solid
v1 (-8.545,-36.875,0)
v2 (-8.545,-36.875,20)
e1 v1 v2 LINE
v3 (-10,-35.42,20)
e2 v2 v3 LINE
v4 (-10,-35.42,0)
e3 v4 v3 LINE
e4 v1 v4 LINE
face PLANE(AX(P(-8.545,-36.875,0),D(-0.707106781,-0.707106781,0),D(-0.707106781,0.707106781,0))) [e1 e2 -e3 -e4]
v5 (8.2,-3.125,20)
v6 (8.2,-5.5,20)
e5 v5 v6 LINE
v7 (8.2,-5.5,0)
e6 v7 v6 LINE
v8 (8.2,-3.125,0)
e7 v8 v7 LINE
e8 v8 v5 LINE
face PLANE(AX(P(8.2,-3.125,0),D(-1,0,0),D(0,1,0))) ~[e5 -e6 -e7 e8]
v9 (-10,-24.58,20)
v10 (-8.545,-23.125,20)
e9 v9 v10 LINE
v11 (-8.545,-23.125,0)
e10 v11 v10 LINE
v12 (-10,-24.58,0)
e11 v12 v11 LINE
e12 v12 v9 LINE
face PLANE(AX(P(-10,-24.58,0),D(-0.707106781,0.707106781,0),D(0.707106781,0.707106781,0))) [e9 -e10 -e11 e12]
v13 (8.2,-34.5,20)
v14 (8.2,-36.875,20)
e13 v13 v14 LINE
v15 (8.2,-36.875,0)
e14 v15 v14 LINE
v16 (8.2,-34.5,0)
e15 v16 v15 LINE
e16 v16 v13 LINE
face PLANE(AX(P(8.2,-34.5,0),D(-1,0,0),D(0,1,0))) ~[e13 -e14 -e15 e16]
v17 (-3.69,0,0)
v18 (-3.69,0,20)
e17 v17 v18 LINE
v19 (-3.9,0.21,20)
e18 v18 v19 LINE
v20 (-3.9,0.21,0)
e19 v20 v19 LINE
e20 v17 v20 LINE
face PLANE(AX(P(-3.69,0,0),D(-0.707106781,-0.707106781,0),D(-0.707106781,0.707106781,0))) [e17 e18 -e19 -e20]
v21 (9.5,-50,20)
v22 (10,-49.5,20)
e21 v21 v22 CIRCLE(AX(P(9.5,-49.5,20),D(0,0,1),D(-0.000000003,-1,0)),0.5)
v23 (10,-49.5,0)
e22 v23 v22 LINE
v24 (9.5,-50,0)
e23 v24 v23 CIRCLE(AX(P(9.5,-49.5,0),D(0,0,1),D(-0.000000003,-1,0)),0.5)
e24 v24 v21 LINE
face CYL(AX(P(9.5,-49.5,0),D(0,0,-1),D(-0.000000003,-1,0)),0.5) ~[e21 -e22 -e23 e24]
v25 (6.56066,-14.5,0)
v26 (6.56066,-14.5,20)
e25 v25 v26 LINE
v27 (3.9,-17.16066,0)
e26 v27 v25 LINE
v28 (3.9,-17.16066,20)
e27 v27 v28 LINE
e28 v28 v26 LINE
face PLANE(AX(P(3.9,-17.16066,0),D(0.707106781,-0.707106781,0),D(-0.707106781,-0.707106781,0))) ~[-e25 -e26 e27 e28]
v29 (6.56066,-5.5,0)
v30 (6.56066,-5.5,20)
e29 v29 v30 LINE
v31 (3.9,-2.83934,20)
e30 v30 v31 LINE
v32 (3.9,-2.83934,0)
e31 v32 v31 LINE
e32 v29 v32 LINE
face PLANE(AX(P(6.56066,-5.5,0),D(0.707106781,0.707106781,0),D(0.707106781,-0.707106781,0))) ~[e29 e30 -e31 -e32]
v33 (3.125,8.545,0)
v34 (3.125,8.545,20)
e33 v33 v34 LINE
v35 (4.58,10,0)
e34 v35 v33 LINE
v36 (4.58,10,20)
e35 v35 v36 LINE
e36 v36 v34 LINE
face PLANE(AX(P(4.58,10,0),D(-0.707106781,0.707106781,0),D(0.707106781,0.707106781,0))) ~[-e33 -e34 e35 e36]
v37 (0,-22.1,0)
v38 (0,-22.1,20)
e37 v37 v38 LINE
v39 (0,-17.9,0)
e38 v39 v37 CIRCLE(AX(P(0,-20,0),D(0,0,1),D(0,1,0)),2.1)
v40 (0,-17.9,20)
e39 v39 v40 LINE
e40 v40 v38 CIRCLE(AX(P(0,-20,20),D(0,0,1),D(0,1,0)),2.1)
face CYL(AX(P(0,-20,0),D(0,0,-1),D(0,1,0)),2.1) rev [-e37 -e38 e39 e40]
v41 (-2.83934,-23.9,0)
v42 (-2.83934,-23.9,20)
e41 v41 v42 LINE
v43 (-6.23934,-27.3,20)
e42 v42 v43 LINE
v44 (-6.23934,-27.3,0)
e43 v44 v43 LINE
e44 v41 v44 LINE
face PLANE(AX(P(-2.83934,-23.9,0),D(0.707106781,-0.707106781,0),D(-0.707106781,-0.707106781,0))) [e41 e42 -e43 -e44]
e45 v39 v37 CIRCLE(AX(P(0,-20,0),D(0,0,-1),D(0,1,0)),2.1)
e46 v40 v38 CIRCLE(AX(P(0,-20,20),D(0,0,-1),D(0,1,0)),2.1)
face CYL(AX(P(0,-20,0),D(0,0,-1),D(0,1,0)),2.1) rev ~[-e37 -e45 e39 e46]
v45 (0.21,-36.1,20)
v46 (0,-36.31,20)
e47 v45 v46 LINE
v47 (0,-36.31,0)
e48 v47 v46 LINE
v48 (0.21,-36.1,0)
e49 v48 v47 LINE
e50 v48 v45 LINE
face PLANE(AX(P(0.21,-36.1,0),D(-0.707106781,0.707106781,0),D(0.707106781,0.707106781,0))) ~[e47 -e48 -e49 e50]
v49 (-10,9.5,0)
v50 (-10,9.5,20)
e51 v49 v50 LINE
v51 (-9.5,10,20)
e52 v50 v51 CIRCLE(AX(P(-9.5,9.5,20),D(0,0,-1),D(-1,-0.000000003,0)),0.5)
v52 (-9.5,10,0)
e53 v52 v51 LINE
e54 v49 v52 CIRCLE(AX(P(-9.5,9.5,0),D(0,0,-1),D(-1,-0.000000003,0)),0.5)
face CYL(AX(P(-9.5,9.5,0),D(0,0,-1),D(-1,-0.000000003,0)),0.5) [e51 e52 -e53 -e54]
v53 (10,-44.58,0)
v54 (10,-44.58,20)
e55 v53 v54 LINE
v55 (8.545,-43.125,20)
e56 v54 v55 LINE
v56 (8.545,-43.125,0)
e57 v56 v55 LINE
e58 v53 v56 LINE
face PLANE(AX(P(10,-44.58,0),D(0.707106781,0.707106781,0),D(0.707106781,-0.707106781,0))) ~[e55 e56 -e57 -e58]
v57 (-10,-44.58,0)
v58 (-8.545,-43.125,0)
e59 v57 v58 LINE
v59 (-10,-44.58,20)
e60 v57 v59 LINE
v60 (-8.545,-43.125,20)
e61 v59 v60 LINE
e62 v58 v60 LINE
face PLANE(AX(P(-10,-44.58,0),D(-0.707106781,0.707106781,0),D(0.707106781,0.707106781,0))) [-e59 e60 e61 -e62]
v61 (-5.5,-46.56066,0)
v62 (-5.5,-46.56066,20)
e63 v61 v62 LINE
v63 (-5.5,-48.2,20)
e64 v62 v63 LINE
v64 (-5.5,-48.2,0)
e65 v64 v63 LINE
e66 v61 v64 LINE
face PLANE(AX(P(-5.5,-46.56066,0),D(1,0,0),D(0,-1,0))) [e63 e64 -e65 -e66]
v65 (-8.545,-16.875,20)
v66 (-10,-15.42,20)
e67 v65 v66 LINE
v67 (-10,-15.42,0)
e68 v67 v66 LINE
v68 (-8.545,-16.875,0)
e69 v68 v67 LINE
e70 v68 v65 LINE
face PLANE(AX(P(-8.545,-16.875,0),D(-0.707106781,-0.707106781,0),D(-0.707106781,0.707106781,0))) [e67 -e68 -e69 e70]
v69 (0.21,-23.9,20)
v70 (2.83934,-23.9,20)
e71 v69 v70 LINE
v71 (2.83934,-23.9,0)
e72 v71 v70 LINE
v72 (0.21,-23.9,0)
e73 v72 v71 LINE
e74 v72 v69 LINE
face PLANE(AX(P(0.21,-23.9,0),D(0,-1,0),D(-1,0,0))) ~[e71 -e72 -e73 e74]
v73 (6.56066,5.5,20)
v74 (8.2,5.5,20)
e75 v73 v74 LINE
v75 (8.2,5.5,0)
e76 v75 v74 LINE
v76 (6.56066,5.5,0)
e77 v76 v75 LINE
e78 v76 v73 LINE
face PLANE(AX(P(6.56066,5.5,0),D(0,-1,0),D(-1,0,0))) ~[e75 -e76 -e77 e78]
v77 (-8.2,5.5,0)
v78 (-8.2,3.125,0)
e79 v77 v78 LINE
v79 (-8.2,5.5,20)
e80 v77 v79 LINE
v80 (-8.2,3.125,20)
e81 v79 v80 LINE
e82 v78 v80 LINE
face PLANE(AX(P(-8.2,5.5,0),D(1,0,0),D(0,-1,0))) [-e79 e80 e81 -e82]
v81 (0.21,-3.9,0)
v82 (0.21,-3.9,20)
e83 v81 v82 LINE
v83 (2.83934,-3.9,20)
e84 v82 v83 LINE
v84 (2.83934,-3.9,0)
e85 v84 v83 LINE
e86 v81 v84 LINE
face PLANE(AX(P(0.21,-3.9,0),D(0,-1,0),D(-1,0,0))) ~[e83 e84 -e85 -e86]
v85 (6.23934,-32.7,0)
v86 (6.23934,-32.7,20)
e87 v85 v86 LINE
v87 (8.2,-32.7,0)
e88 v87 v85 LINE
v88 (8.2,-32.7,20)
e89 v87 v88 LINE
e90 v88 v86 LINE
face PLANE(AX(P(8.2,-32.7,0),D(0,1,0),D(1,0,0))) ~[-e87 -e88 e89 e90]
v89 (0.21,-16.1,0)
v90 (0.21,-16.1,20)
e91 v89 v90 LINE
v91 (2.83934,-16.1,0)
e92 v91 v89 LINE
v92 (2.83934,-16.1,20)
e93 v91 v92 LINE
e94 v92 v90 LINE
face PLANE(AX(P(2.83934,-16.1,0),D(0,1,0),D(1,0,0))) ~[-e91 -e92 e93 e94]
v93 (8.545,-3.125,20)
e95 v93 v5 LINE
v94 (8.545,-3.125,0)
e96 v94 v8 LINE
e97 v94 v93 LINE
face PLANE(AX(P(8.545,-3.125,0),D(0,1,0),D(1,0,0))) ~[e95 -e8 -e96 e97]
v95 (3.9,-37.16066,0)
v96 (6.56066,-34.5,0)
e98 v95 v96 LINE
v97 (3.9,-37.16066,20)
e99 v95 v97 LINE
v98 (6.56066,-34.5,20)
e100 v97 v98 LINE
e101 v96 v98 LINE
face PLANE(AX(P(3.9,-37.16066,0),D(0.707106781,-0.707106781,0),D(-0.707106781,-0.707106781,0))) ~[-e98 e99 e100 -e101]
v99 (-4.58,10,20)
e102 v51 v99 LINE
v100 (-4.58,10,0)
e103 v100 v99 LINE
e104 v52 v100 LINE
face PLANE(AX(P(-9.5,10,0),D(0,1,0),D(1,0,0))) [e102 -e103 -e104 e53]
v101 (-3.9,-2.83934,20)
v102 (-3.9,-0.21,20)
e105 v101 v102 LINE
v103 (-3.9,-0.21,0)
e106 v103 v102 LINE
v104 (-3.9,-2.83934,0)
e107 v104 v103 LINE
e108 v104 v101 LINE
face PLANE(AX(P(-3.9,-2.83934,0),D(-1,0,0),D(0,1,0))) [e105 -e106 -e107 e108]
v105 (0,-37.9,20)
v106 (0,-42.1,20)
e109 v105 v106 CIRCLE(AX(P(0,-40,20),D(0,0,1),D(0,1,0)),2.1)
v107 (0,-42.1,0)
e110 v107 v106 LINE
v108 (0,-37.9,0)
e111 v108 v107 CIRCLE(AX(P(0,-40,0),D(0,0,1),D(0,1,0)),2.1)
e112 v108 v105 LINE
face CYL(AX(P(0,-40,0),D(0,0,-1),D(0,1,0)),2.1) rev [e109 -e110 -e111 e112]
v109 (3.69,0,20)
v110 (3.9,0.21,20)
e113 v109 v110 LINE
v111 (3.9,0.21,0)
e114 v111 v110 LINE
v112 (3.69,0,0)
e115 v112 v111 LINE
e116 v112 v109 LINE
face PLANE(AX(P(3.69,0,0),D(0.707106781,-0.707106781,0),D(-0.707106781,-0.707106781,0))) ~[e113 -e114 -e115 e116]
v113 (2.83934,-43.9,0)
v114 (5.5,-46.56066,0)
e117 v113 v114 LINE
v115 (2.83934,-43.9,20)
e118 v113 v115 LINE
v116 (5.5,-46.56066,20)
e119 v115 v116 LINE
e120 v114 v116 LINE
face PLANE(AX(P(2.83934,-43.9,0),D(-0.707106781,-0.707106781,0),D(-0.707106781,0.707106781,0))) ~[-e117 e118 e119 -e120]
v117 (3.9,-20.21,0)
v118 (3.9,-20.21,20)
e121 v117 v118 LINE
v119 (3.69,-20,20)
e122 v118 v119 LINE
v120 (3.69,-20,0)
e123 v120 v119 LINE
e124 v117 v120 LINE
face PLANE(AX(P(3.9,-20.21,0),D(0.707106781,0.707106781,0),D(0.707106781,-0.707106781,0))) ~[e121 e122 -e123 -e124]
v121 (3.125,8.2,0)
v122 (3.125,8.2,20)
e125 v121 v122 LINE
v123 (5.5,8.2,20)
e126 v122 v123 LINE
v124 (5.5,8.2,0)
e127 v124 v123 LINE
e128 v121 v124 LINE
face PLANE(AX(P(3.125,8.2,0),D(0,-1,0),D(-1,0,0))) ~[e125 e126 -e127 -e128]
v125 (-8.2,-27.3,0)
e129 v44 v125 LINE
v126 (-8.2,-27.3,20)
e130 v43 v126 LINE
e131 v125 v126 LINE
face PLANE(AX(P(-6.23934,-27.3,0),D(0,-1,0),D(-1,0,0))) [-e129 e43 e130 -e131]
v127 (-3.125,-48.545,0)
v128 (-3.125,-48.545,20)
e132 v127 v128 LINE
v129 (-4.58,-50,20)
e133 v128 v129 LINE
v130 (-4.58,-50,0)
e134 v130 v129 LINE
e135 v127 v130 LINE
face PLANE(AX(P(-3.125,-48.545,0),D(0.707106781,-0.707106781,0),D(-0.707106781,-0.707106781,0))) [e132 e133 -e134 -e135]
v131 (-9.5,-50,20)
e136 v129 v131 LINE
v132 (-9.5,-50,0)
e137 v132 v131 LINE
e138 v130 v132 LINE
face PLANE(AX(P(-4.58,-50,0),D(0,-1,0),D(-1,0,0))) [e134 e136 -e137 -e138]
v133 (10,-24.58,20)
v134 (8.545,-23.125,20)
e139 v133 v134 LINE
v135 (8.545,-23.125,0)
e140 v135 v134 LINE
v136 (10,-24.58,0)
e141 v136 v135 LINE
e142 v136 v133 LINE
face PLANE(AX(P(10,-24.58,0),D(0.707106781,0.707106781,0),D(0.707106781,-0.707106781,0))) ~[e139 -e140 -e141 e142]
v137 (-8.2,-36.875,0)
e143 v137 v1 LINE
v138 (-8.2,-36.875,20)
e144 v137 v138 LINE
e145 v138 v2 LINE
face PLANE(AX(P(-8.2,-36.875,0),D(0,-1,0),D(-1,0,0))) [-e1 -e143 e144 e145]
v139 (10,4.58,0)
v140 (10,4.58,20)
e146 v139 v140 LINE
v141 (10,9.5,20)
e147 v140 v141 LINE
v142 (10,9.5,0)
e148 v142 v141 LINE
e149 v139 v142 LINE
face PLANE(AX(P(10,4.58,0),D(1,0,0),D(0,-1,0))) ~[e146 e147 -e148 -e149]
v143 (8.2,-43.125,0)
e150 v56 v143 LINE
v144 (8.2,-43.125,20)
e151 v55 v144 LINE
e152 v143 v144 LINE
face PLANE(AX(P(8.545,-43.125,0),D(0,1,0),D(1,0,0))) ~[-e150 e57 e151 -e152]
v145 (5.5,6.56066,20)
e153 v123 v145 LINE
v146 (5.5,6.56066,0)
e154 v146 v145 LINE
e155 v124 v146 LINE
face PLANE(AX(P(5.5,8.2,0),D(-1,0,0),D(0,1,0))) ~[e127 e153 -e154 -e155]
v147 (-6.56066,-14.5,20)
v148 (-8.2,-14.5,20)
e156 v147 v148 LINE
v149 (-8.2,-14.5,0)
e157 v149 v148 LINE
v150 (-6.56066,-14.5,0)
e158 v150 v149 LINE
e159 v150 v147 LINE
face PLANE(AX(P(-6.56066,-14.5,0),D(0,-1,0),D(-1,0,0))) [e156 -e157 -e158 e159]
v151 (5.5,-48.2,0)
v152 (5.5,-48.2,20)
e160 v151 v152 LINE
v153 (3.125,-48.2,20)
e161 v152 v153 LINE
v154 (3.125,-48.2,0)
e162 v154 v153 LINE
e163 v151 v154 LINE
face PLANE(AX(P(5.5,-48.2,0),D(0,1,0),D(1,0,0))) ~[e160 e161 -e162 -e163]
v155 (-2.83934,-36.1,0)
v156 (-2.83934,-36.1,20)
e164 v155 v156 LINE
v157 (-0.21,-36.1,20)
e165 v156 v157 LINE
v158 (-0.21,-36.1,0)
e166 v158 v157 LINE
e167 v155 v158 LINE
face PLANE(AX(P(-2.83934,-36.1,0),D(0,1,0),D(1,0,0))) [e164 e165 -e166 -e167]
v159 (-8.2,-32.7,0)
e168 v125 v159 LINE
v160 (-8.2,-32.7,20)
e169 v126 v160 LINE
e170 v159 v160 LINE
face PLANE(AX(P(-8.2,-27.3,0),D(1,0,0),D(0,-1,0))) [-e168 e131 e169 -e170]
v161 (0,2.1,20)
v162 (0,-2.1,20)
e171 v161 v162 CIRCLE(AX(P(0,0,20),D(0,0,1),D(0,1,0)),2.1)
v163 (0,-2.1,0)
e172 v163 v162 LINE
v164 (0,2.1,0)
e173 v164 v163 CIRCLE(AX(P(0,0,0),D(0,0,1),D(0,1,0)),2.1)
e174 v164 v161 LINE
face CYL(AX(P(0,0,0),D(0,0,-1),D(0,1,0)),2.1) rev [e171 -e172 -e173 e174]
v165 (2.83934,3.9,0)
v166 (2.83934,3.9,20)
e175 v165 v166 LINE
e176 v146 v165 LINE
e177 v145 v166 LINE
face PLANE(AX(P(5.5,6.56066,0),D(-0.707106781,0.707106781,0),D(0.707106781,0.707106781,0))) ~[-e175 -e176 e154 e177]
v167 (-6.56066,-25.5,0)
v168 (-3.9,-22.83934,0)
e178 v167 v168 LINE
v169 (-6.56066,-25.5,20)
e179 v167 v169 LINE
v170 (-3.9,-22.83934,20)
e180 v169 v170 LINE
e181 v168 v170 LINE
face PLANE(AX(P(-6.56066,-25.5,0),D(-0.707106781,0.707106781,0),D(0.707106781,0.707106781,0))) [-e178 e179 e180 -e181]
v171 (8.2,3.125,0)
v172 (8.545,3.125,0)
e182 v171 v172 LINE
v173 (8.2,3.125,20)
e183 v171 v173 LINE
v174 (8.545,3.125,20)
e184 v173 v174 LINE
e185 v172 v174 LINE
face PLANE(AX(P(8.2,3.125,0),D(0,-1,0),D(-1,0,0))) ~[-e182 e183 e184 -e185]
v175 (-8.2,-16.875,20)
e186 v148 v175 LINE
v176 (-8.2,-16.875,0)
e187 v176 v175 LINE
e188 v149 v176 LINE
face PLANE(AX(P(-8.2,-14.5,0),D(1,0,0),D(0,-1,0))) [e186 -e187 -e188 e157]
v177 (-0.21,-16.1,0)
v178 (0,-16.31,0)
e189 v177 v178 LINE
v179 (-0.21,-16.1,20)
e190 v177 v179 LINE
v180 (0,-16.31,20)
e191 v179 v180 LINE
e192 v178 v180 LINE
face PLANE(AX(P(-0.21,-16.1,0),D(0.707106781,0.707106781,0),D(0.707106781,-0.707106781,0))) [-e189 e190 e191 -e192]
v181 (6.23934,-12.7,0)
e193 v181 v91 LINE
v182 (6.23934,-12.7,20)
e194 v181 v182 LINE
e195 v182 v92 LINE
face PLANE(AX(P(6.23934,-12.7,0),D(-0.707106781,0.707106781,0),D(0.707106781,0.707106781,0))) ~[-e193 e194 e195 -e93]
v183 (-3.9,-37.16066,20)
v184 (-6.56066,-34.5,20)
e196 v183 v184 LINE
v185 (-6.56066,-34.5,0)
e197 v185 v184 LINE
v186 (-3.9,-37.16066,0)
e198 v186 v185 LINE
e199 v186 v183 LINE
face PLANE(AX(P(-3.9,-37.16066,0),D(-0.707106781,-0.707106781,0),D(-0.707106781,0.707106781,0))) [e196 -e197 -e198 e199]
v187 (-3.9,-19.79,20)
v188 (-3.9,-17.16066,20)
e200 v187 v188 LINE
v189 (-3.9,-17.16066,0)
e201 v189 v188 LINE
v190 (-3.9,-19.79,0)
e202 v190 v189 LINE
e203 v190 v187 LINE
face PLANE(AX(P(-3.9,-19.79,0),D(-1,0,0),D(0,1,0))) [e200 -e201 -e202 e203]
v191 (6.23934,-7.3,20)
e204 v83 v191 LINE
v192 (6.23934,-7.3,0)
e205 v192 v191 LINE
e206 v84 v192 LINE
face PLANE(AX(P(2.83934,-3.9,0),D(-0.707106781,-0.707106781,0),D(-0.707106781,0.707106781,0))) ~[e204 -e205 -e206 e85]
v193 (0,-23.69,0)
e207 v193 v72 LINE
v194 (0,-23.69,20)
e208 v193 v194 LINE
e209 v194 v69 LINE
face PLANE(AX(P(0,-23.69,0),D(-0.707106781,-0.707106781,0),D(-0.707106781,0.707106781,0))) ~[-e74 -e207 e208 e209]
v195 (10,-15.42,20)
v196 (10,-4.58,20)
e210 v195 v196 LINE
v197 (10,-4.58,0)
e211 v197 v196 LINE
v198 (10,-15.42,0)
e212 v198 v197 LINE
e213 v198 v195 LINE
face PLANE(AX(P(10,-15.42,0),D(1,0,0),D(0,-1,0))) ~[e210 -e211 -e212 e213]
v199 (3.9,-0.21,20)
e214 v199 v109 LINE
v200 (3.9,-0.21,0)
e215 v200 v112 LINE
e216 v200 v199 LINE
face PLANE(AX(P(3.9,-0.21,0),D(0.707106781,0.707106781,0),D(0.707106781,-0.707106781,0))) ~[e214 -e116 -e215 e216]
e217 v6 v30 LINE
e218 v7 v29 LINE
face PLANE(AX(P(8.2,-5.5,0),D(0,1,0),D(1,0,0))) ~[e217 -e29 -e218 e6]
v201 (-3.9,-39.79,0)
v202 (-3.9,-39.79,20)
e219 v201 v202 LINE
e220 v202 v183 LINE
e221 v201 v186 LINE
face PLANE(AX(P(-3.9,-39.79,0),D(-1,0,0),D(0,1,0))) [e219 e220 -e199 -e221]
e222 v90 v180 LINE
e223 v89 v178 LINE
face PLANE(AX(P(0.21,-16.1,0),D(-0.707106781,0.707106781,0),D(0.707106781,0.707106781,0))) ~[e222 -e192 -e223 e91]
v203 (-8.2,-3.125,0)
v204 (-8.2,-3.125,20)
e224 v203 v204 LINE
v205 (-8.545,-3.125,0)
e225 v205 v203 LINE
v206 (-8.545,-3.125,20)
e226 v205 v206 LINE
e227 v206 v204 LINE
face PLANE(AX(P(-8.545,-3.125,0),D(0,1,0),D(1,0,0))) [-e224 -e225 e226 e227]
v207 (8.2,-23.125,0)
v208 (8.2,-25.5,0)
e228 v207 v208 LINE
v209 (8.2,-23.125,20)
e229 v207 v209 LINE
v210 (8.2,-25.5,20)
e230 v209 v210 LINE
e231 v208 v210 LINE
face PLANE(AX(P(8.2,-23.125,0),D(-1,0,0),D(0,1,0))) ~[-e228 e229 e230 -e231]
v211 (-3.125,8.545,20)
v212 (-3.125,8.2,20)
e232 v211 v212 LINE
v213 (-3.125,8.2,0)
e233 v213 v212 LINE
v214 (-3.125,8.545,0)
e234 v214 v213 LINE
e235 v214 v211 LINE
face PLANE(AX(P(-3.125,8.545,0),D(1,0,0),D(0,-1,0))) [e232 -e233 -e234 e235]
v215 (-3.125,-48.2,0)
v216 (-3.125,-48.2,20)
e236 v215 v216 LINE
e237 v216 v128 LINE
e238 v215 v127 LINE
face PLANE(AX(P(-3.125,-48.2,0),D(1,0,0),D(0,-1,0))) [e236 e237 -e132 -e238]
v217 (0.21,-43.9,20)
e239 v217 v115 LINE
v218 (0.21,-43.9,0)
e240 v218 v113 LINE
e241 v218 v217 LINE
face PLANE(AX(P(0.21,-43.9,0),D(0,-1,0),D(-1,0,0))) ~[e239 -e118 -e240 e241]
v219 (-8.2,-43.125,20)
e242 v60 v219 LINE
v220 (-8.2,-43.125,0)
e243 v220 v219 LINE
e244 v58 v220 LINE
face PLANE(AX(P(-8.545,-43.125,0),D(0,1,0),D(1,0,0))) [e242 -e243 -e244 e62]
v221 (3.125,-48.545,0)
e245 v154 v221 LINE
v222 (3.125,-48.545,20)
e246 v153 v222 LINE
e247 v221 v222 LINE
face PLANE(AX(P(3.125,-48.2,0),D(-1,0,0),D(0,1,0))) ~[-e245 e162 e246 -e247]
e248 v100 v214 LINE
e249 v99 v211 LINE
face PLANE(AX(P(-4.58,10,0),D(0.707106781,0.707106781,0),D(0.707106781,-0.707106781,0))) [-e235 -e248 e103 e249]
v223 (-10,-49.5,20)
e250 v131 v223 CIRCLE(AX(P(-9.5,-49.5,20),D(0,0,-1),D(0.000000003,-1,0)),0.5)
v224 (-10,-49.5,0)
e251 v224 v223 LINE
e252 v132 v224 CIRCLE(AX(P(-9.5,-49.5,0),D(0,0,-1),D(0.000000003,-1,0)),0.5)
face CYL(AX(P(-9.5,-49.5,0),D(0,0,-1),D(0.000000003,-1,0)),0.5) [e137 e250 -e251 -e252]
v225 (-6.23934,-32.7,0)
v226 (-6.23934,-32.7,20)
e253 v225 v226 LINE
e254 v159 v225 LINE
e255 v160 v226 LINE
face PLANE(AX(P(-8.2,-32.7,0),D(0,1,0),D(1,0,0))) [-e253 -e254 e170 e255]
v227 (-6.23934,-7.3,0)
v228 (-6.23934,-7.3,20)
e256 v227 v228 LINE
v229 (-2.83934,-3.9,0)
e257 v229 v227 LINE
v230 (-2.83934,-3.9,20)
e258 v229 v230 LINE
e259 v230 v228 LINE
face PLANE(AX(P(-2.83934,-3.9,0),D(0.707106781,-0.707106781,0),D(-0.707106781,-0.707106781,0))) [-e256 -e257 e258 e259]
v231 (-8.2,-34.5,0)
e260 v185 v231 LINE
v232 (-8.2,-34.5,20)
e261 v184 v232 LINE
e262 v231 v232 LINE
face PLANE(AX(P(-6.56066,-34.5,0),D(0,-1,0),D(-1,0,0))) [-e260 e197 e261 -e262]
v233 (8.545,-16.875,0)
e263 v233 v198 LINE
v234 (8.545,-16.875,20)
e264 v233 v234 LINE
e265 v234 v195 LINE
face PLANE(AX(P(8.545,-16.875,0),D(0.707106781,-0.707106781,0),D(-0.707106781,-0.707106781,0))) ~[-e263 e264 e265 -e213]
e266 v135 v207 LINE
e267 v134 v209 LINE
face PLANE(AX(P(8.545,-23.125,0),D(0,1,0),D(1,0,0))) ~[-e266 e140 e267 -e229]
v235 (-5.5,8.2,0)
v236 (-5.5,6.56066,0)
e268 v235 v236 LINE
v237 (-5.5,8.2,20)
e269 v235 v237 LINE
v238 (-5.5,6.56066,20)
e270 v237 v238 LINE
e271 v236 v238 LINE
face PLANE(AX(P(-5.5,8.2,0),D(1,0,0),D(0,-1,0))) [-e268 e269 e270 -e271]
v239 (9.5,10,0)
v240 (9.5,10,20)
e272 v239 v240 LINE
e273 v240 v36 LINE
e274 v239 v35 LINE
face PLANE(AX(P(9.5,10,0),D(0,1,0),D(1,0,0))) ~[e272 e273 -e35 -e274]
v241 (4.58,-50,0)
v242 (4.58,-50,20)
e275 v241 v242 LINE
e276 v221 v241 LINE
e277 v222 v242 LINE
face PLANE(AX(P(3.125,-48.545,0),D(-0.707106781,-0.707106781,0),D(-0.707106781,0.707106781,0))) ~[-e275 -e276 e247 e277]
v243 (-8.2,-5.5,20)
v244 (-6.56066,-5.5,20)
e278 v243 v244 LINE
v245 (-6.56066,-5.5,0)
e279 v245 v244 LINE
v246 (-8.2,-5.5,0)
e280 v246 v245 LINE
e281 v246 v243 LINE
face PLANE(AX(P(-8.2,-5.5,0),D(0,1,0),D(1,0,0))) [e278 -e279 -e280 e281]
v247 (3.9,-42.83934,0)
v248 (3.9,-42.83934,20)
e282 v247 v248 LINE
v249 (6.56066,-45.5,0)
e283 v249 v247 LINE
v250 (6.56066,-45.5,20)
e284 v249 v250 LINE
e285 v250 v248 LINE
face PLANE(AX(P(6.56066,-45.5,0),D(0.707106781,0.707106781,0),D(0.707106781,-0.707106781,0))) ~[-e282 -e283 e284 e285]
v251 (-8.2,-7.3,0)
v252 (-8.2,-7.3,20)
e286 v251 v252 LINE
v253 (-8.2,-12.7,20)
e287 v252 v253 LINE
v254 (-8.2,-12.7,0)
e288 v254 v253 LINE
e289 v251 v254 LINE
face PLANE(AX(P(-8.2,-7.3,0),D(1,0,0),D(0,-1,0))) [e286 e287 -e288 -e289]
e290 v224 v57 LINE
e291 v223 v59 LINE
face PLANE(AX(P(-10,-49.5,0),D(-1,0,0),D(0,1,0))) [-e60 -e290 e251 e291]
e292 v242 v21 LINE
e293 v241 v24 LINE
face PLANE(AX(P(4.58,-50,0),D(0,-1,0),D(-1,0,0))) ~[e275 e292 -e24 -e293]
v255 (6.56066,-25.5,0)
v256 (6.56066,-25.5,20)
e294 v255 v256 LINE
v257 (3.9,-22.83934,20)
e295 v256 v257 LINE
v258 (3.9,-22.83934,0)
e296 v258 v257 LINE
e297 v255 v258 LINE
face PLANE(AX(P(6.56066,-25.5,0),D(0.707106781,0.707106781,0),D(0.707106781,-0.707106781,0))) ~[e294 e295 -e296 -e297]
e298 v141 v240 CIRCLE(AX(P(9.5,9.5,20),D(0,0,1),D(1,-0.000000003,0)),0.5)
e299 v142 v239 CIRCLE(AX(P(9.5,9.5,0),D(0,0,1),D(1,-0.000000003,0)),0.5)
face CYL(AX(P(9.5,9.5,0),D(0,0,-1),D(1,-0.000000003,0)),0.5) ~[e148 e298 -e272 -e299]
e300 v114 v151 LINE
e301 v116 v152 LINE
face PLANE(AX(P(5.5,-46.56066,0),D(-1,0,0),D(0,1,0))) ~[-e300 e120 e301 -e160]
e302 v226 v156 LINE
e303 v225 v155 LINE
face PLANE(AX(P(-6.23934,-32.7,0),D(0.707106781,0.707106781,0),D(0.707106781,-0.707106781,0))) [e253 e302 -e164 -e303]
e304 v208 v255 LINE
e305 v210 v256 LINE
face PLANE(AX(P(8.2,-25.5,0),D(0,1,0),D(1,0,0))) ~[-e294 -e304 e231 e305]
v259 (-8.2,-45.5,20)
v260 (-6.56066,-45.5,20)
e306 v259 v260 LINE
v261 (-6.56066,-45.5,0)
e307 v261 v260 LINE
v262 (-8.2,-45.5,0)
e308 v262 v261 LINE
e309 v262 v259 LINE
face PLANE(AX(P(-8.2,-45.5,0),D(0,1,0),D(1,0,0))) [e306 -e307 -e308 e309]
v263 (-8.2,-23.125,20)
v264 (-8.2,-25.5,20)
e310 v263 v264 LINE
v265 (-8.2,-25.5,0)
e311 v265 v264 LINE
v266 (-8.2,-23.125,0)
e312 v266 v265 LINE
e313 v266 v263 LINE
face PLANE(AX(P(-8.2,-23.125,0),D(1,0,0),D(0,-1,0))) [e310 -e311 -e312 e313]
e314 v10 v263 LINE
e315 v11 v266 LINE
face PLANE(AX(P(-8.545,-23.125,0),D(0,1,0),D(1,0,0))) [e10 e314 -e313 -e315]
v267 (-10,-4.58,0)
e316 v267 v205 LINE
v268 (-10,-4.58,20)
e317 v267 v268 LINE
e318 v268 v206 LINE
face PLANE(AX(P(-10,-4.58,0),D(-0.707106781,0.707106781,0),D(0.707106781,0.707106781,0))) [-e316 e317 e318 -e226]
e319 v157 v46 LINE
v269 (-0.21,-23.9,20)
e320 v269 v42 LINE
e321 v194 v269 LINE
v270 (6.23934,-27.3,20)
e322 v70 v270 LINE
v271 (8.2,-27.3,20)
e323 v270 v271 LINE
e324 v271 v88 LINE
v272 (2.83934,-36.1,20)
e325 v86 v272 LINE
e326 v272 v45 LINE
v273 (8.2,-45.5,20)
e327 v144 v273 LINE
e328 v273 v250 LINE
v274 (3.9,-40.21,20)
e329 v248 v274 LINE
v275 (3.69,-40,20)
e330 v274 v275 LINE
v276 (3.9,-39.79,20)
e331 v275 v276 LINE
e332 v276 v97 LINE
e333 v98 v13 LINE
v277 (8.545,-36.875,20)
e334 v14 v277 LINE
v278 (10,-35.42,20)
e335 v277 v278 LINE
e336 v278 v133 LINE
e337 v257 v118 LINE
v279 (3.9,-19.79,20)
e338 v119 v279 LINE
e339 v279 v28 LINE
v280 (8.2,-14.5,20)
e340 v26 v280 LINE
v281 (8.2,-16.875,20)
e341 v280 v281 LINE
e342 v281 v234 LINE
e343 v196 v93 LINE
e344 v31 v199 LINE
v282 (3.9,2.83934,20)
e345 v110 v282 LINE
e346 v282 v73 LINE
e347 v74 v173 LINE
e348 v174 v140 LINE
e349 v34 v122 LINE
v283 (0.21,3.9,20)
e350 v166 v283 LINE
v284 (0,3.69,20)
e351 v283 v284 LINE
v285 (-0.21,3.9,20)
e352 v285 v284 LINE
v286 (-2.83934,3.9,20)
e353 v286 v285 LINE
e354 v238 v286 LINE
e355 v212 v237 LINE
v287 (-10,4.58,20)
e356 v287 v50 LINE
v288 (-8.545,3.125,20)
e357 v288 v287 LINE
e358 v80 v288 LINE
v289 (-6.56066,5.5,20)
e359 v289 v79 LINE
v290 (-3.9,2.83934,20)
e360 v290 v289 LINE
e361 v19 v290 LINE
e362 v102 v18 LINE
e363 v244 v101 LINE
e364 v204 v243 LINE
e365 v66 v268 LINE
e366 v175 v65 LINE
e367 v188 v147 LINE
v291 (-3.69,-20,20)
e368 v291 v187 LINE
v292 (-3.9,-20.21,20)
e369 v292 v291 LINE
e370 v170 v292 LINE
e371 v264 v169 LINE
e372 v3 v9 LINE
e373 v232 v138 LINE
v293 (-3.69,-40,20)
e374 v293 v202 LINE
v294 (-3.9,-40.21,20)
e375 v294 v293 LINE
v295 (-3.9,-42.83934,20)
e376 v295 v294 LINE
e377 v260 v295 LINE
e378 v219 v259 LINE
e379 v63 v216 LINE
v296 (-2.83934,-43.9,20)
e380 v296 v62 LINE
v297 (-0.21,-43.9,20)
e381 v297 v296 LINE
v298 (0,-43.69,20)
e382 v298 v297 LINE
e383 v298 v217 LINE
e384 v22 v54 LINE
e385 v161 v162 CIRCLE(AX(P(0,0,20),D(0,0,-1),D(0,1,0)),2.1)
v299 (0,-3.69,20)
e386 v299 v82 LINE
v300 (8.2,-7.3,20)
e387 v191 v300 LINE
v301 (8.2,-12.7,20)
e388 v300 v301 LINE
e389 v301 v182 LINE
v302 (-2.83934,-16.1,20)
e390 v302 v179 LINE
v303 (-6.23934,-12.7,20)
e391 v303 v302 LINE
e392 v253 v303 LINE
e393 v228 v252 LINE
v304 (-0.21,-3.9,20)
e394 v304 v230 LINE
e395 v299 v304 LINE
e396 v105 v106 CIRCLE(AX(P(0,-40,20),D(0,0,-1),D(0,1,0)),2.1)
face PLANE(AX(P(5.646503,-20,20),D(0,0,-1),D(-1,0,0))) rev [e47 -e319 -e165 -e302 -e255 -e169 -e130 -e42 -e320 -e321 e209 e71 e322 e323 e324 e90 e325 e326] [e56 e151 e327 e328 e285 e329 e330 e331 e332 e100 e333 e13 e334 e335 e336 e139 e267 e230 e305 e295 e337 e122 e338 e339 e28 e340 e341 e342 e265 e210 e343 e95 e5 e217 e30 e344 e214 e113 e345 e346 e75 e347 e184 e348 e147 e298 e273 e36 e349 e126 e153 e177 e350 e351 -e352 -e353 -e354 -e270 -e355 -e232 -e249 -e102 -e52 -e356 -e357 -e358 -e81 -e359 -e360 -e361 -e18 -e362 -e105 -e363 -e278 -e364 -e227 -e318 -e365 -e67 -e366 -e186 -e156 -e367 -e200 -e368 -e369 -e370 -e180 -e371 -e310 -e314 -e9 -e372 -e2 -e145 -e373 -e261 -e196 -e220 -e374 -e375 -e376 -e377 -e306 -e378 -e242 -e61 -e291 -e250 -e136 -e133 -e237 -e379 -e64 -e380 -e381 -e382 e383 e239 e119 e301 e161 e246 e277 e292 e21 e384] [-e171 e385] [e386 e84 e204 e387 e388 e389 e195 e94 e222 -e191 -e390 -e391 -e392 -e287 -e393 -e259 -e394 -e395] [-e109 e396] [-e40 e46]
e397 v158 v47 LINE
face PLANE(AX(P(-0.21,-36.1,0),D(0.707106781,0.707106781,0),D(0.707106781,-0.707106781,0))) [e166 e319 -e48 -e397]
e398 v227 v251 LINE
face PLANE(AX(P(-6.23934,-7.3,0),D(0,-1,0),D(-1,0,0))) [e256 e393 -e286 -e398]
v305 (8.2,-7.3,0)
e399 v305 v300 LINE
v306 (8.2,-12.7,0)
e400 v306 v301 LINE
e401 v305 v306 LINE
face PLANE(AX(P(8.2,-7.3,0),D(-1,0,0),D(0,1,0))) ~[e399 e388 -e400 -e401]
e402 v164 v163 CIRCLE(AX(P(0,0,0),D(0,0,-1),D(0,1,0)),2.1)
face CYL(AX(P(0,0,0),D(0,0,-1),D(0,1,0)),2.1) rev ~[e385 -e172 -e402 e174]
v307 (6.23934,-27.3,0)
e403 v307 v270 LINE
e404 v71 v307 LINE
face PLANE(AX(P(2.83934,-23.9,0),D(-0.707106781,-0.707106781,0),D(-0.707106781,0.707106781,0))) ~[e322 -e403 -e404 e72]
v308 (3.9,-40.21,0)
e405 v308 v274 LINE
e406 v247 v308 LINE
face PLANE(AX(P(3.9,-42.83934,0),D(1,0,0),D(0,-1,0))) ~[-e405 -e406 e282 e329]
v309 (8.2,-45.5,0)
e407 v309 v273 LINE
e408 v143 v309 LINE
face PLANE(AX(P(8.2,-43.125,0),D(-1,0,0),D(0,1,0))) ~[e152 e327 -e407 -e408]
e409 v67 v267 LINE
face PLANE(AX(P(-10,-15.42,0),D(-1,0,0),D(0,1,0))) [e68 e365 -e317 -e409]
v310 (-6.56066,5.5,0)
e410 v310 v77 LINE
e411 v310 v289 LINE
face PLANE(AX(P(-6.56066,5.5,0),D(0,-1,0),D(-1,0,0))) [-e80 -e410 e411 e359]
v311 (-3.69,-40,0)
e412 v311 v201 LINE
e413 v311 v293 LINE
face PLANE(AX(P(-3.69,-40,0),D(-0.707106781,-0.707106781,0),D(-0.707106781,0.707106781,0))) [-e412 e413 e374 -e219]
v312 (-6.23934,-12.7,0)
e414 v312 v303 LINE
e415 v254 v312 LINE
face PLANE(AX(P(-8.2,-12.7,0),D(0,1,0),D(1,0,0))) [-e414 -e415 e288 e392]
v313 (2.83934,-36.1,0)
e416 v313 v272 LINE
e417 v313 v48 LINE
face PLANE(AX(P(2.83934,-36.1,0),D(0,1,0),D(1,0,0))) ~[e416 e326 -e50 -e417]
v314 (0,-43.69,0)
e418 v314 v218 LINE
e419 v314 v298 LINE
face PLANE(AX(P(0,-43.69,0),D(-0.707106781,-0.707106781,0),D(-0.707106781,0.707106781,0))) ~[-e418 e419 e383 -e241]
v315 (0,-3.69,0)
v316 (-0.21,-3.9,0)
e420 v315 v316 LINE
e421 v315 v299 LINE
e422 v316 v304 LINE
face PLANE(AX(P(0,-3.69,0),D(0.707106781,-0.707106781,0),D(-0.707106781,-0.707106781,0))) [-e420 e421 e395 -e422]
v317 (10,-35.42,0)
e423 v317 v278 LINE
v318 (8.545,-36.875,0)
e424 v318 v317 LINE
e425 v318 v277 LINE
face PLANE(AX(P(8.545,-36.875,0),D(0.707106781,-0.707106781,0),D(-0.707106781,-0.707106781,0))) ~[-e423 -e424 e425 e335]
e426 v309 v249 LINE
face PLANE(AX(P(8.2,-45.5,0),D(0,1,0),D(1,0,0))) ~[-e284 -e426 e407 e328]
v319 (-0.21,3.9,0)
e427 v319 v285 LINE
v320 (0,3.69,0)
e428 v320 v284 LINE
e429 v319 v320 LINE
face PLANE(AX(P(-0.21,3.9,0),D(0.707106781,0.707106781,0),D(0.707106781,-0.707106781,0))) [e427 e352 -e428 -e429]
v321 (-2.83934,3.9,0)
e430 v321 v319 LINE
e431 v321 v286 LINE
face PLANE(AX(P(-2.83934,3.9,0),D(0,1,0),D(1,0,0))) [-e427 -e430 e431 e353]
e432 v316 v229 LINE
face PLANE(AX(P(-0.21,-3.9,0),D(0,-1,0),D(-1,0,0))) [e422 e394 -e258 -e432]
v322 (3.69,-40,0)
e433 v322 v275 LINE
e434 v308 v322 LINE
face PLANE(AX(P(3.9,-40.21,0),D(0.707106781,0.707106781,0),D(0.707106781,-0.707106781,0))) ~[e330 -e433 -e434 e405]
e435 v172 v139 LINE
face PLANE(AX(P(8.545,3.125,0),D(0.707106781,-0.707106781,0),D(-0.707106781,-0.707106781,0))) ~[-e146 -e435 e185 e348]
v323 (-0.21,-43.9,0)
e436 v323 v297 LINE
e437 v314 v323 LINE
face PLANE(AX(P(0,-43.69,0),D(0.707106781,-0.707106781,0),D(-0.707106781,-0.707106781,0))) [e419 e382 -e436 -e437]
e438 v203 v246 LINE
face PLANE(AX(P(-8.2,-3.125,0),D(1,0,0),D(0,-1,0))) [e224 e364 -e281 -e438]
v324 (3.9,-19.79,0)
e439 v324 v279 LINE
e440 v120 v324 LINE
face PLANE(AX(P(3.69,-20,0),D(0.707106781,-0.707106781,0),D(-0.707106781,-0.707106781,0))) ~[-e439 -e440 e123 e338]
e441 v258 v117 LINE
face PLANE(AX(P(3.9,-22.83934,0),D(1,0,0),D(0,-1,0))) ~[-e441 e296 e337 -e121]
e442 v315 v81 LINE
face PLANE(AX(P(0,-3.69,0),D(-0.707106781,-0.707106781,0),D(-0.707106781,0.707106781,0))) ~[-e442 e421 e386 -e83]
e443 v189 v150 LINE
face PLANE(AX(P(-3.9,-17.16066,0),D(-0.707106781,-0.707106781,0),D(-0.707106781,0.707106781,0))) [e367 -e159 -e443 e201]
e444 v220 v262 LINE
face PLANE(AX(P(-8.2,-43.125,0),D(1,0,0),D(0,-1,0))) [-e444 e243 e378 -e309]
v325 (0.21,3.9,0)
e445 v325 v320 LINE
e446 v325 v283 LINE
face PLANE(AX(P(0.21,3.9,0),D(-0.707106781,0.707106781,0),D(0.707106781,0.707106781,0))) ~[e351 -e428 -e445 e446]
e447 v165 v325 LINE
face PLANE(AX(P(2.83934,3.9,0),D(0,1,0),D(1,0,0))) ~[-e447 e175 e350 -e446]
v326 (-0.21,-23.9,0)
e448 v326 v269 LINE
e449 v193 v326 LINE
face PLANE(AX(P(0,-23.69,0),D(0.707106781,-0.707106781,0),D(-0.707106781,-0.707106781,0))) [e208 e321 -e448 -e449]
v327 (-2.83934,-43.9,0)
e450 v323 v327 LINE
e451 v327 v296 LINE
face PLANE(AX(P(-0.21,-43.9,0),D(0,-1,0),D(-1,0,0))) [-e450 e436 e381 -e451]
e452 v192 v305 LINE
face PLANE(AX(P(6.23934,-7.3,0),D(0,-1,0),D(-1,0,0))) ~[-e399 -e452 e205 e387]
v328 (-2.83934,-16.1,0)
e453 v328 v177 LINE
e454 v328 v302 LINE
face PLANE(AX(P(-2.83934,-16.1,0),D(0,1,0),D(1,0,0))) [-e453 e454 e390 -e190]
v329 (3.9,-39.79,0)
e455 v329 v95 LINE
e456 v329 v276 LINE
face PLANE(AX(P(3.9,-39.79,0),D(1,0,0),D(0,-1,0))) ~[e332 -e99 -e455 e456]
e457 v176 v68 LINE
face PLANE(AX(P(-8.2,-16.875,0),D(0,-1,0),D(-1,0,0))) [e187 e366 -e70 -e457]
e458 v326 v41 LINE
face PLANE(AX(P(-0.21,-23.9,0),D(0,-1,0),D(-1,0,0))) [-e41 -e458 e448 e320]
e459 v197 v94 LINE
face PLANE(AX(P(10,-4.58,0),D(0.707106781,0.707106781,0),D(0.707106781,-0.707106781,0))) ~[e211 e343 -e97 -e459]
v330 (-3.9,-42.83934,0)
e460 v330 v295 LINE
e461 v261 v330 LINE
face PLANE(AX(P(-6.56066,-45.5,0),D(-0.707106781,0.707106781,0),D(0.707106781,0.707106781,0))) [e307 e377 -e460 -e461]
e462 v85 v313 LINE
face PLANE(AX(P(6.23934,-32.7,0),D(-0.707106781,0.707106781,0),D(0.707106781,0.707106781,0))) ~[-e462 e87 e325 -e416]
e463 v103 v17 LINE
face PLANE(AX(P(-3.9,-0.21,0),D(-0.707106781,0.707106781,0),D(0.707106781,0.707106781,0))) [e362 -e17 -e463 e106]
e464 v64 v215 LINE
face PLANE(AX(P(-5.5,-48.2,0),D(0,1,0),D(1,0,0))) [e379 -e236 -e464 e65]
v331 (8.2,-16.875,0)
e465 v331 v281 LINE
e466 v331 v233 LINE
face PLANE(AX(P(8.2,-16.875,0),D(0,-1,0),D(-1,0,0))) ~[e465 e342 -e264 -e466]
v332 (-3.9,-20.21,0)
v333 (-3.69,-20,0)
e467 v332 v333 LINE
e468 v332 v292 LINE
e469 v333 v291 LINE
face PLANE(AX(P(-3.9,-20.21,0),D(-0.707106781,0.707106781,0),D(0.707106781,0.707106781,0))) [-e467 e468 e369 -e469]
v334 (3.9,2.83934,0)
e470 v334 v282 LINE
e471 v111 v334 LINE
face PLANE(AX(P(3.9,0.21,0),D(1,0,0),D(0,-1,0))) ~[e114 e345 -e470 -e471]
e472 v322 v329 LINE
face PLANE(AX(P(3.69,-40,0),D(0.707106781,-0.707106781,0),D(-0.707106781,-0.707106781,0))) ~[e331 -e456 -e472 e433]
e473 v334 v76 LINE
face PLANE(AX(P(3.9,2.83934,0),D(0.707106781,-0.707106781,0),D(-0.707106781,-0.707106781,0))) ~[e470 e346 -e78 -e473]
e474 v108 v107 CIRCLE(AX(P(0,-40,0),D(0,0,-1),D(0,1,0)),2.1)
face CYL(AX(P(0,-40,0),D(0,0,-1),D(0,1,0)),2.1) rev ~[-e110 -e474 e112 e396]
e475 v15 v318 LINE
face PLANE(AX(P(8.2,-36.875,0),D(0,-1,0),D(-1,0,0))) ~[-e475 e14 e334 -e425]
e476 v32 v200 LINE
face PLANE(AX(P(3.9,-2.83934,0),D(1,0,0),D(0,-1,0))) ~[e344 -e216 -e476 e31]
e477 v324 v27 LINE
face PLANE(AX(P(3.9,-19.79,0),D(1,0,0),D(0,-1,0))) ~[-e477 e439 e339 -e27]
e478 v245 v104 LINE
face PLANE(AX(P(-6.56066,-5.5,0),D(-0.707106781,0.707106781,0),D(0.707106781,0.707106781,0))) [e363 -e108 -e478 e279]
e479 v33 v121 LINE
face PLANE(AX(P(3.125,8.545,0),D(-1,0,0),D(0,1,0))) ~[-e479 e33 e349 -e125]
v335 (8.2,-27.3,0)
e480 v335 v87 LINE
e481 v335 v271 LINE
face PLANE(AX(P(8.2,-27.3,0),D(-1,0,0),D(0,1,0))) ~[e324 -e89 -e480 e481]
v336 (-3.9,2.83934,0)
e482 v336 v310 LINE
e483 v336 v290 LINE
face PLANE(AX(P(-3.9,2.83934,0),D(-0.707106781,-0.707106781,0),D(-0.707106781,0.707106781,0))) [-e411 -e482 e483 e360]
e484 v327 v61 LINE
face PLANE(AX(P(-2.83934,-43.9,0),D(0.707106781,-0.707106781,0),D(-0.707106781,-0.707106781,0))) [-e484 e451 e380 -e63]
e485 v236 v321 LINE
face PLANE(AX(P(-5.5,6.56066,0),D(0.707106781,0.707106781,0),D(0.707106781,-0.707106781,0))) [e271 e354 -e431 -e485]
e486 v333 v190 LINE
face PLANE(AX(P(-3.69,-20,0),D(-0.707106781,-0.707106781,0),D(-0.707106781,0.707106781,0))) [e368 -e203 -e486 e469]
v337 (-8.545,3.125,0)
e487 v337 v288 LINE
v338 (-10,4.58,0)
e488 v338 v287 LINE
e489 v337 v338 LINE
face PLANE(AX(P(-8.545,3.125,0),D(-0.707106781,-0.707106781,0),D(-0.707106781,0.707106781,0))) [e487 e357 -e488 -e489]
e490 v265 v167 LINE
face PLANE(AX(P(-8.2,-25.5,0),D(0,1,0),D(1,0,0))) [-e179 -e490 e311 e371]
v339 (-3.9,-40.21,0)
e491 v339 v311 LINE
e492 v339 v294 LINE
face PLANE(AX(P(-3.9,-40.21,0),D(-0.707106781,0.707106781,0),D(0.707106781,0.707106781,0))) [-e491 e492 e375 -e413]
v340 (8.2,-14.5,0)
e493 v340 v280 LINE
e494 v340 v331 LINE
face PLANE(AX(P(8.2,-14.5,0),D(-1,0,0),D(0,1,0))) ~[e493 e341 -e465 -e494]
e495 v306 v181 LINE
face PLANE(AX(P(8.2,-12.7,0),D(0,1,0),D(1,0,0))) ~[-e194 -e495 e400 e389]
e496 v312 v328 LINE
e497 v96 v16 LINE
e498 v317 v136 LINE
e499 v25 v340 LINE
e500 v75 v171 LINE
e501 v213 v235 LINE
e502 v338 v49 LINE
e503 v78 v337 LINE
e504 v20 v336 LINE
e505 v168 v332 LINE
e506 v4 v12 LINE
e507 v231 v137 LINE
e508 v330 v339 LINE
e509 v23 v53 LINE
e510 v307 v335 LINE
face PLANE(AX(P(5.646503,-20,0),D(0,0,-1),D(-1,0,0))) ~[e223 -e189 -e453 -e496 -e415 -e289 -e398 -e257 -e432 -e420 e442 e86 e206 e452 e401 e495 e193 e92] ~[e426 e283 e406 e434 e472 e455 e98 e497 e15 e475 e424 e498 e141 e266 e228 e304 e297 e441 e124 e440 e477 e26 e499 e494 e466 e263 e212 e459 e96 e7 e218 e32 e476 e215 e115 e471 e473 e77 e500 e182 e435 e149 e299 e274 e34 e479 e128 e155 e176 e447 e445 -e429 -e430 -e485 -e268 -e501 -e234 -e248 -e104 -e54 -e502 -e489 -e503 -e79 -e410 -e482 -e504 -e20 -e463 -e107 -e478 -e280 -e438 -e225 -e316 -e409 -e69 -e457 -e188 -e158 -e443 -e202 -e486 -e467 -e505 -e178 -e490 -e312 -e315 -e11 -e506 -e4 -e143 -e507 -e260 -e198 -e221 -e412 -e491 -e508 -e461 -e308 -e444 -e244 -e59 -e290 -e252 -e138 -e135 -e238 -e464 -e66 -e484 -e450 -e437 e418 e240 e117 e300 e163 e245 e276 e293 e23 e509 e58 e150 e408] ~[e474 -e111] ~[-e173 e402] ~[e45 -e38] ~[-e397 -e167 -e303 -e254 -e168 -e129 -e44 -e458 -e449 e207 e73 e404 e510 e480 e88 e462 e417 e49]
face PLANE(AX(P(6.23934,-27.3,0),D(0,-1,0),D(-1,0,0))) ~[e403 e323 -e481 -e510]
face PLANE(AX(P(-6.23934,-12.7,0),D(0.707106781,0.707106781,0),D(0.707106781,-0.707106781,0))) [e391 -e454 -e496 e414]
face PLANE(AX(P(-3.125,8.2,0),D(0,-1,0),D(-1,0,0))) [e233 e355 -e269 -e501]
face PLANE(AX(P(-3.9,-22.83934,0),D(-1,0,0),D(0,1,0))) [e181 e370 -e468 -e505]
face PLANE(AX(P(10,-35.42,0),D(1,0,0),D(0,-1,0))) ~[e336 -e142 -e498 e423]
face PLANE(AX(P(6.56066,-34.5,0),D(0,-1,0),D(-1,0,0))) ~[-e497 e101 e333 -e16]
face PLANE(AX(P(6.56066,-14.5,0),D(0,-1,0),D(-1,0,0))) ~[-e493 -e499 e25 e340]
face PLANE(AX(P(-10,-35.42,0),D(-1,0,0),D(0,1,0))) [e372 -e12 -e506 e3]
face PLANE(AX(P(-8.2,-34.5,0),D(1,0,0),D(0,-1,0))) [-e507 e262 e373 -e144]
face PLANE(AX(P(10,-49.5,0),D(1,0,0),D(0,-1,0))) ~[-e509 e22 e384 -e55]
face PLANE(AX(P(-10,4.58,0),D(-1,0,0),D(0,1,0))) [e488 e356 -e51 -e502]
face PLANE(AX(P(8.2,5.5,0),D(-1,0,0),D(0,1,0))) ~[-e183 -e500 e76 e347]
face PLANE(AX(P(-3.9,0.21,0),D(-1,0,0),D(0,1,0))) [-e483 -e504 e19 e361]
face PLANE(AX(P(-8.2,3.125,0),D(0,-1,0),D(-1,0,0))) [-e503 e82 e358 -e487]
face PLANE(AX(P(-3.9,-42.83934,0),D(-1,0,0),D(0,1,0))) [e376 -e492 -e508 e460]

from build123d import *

# Parameters (mm, degrees)
BOSS_EXTRU_1_DEPTH = 20


with BuildPart() as part:
    # Esquisse1 → Boss.-Extru.1 (new body)
    with BuildSketch(Plane.XY):
        with BuildLine():
            Line((-9.5, 10), (-4.58, 10))
            Line((-4.58, 10), (-3.125, 8.545))
            Line((-3.125, 8.545), (-3.125, 8.2))
            Line((-3.125, 8.2), (-5.5, 8.2))
            Line((-5.5, 8.2), (-5.5, 6.560660172))
            Line((-5.5, 6.560660172), (-2.839339828, 3.9))
            Line((-2.839339828, 3.9), (-0.21, 3.9))
            Line((-0.21, 3.9), (0, 3.69))
            Line((0, 3.69), (0, 2.1))
            ThreePointArc((0, 2.1), (-2.1, 0), (0, -2.1))
            Line((0, -2.1), (0, -3.69))
            Line((0, -3.69), (-0.21, -3.9))
            Line((-0.21, -3.9), (-2.839339828, -3.9))
            Line((-2.839339828, -3.9), (-6.239339828, -7.3))
            Line((-6.239339828, -7.3), (-8.2, -7.3))
            Line((-8.2, -7.3), (-8.2, -12.7))
            Line((-8.2, -12.7), (-6.239339828, -12.7))
            Line((-6.239339828, -12.7), (-2.839339828, -16.1))
            Line((-2.839339828, -16.1), (-0.21, -16.1))
            Line((-0.21, -16.1), (0, -16.31))
            Line((0, -16.31), (0, -17.9))
            ThreePointArc((0, -17.9), (-2.1, -20), (0, -22.1))
            Line((0, -22.1), (0, -23.69))
            Line((0, -23.69), (-0.21, -23.9))
            Line((-0.21, -23.9), (-2.839339828, -23.9))
            Line((-2.839339828, -23.9), (-6.239339828, -27.3))
            Line((-6.239339828, -27.3), (-8.2, -27.3))
            Line((-8.2, -27.3), (-8.2, -32.7))
            Line((-8.2, -32.7), (-6.239339828, -32.7))
            Line((-6.239339828, -32.7), (-2.839339828, -36.1))
            Line((-2.839339828, -36.1), (-0.21, -36.1))
            Line((-0.21, -36.1), (0, -36.31))
            Line((0, -36.31), (0, -37.9))
            ThreePointArc((0, -37.9), (-2.1, -40), (0, -42.1))
            Line((0, -42.1), (0, -43.69))
            Line((0, -43.69), (-0.21, -43.9))
            Line((-0.21, -43.9), (-2.839339828, -43.9))
            Line((-2.839339828, -43.9), (-5.5, -46.560660172))
            Line((-5.5, -46.560660172), (-5.5, -48.2))
            Line((-5.5, -48.2), (-3.125, -48.2))
            Line((-3.125, -48.2), (-3.125, -48.545))
            Line((-3.125, -48.545), (-4.58, -50))
            Line((-4.58, -50), (-9.5, -50))
            ThreePointArc((-9.5, -50), (-9.853553391, -49.853553391), (-10, -49.5))
            Line((-10, -49.5), (-10, -44.58))
            Line((-10, -44.58), (-8.545, -43.125))
            Line((-8.545, -43.125), (-8.2, -43.125))
            Line((-8.2, -43.125), (-8.2, -45.5))
            Line((-8.2, -45.5), (-6.560660172, -45.5))
            Line((-6.560660172, -45.5), (-3.9, -42.839339828))
            Line((-3.9, -42.839339828), (-3.9, -40.21))
            Line((-3.9, -40.21), (-3.69, -40))
            Line((-3.69, -40), (-3.9, -39.79))
            Line((-3.9, -39.79), (-3.9, -37.160660172))
            Line((-3.9, -37.160660172), (-6.560660172, -34.5))
            Line((-6.560660172, -34.5), (-8.2, -34.5))
            Line((-8.2, -34.5), (-8.2, -36.875))
            Line((-8.2, -36.875), (-8.545, -36.875))
            Line((-8.545, -36.875), (-10, -35.42))
            Line((-10, -35.42), (-10, -24.58))
            Line((-10, -24.58), (-8.545, -23.125))
            Line((-8.545, -23.125), (-8.2, -23.125))
            Line((-8.2, -23.125), (-8.2, -25.5))
            Line((-8.2, -25.5), (-6.560660172, -25.5))
            Line((-6.560660172, -25.5), (-3.9, -22.839339828))
            Line((-3.9, -22.839339828), (-3.9, -20.21))
            Line((-3.9, -20.21), (-3.69, -20))
            Line((-3.69, -20), (-3.9, -19.79))
            Line((-3.9, -19.79), (-3.9, -17.160660172))
            Line((-3.9, -17.160660172), (-6.560660172, -14.5))
            Line((-6.560660172, -14.5), (-8.2, -14.5))
            Line((-8.2, -14.5), (-8.2, -16.875))
            Line((-8.2, -16.875), (-8.545, -16.875))
            Line((-8.545, -16.875), (-10, -15.42))
            Line((-10, -15.42), (-10, -4.58))
            Line((-10, -4.58), (-8.545, -3.125))
            Line((-8.545, -3.125), (-8.2, -3.125))
            Line((-8.2, -3.125), (-8.2, -5.5))
            Line((-8.2, -5.5), (-6.560660172, -5.5))
            Line((-6.560660172, -5.5), (-3.9, -2.839339828))
            Line((-3.9, -2.839339828), (-3.9, -0.21))
            Line((-3.9, -0.21), (-3.69, 0))
            Line((-3.69, 0), (-3.9, 0.21))
            Line((-3.9, 0.21), (-3.9, 2.839339828))
            Line((-3.9, 2.839339828), (-6.560660172, 5.5))
            Line((-6.560660172, 5.5), (-8.2, 5.5))
            Line((-8.2, 5.5), (-8.2, 3.125))
            Line((-8.2, 3.125), (-8.545, 3.125))
            Line((-8.545, 3.125), (-10, 4.58))
            Line((-10, 4.58), (-10, 9.5))
            ThreePointArc((-10, 9.5), (-9.853553391, 9.853553391), (-9.5, 10))
        make_face()
    boss_extru_1 = extrude(amount=BOSS_EXTRU_1_DEPTH)

    # Symétrie1: Boss.-Extru.1 across plane
    add(boss_extru_1.mirror(Plane(origin=(0, 3.69, 20), x_dir=(0, 0, 1), z_dir=(-1, 0, 0))))


solid = part.part
